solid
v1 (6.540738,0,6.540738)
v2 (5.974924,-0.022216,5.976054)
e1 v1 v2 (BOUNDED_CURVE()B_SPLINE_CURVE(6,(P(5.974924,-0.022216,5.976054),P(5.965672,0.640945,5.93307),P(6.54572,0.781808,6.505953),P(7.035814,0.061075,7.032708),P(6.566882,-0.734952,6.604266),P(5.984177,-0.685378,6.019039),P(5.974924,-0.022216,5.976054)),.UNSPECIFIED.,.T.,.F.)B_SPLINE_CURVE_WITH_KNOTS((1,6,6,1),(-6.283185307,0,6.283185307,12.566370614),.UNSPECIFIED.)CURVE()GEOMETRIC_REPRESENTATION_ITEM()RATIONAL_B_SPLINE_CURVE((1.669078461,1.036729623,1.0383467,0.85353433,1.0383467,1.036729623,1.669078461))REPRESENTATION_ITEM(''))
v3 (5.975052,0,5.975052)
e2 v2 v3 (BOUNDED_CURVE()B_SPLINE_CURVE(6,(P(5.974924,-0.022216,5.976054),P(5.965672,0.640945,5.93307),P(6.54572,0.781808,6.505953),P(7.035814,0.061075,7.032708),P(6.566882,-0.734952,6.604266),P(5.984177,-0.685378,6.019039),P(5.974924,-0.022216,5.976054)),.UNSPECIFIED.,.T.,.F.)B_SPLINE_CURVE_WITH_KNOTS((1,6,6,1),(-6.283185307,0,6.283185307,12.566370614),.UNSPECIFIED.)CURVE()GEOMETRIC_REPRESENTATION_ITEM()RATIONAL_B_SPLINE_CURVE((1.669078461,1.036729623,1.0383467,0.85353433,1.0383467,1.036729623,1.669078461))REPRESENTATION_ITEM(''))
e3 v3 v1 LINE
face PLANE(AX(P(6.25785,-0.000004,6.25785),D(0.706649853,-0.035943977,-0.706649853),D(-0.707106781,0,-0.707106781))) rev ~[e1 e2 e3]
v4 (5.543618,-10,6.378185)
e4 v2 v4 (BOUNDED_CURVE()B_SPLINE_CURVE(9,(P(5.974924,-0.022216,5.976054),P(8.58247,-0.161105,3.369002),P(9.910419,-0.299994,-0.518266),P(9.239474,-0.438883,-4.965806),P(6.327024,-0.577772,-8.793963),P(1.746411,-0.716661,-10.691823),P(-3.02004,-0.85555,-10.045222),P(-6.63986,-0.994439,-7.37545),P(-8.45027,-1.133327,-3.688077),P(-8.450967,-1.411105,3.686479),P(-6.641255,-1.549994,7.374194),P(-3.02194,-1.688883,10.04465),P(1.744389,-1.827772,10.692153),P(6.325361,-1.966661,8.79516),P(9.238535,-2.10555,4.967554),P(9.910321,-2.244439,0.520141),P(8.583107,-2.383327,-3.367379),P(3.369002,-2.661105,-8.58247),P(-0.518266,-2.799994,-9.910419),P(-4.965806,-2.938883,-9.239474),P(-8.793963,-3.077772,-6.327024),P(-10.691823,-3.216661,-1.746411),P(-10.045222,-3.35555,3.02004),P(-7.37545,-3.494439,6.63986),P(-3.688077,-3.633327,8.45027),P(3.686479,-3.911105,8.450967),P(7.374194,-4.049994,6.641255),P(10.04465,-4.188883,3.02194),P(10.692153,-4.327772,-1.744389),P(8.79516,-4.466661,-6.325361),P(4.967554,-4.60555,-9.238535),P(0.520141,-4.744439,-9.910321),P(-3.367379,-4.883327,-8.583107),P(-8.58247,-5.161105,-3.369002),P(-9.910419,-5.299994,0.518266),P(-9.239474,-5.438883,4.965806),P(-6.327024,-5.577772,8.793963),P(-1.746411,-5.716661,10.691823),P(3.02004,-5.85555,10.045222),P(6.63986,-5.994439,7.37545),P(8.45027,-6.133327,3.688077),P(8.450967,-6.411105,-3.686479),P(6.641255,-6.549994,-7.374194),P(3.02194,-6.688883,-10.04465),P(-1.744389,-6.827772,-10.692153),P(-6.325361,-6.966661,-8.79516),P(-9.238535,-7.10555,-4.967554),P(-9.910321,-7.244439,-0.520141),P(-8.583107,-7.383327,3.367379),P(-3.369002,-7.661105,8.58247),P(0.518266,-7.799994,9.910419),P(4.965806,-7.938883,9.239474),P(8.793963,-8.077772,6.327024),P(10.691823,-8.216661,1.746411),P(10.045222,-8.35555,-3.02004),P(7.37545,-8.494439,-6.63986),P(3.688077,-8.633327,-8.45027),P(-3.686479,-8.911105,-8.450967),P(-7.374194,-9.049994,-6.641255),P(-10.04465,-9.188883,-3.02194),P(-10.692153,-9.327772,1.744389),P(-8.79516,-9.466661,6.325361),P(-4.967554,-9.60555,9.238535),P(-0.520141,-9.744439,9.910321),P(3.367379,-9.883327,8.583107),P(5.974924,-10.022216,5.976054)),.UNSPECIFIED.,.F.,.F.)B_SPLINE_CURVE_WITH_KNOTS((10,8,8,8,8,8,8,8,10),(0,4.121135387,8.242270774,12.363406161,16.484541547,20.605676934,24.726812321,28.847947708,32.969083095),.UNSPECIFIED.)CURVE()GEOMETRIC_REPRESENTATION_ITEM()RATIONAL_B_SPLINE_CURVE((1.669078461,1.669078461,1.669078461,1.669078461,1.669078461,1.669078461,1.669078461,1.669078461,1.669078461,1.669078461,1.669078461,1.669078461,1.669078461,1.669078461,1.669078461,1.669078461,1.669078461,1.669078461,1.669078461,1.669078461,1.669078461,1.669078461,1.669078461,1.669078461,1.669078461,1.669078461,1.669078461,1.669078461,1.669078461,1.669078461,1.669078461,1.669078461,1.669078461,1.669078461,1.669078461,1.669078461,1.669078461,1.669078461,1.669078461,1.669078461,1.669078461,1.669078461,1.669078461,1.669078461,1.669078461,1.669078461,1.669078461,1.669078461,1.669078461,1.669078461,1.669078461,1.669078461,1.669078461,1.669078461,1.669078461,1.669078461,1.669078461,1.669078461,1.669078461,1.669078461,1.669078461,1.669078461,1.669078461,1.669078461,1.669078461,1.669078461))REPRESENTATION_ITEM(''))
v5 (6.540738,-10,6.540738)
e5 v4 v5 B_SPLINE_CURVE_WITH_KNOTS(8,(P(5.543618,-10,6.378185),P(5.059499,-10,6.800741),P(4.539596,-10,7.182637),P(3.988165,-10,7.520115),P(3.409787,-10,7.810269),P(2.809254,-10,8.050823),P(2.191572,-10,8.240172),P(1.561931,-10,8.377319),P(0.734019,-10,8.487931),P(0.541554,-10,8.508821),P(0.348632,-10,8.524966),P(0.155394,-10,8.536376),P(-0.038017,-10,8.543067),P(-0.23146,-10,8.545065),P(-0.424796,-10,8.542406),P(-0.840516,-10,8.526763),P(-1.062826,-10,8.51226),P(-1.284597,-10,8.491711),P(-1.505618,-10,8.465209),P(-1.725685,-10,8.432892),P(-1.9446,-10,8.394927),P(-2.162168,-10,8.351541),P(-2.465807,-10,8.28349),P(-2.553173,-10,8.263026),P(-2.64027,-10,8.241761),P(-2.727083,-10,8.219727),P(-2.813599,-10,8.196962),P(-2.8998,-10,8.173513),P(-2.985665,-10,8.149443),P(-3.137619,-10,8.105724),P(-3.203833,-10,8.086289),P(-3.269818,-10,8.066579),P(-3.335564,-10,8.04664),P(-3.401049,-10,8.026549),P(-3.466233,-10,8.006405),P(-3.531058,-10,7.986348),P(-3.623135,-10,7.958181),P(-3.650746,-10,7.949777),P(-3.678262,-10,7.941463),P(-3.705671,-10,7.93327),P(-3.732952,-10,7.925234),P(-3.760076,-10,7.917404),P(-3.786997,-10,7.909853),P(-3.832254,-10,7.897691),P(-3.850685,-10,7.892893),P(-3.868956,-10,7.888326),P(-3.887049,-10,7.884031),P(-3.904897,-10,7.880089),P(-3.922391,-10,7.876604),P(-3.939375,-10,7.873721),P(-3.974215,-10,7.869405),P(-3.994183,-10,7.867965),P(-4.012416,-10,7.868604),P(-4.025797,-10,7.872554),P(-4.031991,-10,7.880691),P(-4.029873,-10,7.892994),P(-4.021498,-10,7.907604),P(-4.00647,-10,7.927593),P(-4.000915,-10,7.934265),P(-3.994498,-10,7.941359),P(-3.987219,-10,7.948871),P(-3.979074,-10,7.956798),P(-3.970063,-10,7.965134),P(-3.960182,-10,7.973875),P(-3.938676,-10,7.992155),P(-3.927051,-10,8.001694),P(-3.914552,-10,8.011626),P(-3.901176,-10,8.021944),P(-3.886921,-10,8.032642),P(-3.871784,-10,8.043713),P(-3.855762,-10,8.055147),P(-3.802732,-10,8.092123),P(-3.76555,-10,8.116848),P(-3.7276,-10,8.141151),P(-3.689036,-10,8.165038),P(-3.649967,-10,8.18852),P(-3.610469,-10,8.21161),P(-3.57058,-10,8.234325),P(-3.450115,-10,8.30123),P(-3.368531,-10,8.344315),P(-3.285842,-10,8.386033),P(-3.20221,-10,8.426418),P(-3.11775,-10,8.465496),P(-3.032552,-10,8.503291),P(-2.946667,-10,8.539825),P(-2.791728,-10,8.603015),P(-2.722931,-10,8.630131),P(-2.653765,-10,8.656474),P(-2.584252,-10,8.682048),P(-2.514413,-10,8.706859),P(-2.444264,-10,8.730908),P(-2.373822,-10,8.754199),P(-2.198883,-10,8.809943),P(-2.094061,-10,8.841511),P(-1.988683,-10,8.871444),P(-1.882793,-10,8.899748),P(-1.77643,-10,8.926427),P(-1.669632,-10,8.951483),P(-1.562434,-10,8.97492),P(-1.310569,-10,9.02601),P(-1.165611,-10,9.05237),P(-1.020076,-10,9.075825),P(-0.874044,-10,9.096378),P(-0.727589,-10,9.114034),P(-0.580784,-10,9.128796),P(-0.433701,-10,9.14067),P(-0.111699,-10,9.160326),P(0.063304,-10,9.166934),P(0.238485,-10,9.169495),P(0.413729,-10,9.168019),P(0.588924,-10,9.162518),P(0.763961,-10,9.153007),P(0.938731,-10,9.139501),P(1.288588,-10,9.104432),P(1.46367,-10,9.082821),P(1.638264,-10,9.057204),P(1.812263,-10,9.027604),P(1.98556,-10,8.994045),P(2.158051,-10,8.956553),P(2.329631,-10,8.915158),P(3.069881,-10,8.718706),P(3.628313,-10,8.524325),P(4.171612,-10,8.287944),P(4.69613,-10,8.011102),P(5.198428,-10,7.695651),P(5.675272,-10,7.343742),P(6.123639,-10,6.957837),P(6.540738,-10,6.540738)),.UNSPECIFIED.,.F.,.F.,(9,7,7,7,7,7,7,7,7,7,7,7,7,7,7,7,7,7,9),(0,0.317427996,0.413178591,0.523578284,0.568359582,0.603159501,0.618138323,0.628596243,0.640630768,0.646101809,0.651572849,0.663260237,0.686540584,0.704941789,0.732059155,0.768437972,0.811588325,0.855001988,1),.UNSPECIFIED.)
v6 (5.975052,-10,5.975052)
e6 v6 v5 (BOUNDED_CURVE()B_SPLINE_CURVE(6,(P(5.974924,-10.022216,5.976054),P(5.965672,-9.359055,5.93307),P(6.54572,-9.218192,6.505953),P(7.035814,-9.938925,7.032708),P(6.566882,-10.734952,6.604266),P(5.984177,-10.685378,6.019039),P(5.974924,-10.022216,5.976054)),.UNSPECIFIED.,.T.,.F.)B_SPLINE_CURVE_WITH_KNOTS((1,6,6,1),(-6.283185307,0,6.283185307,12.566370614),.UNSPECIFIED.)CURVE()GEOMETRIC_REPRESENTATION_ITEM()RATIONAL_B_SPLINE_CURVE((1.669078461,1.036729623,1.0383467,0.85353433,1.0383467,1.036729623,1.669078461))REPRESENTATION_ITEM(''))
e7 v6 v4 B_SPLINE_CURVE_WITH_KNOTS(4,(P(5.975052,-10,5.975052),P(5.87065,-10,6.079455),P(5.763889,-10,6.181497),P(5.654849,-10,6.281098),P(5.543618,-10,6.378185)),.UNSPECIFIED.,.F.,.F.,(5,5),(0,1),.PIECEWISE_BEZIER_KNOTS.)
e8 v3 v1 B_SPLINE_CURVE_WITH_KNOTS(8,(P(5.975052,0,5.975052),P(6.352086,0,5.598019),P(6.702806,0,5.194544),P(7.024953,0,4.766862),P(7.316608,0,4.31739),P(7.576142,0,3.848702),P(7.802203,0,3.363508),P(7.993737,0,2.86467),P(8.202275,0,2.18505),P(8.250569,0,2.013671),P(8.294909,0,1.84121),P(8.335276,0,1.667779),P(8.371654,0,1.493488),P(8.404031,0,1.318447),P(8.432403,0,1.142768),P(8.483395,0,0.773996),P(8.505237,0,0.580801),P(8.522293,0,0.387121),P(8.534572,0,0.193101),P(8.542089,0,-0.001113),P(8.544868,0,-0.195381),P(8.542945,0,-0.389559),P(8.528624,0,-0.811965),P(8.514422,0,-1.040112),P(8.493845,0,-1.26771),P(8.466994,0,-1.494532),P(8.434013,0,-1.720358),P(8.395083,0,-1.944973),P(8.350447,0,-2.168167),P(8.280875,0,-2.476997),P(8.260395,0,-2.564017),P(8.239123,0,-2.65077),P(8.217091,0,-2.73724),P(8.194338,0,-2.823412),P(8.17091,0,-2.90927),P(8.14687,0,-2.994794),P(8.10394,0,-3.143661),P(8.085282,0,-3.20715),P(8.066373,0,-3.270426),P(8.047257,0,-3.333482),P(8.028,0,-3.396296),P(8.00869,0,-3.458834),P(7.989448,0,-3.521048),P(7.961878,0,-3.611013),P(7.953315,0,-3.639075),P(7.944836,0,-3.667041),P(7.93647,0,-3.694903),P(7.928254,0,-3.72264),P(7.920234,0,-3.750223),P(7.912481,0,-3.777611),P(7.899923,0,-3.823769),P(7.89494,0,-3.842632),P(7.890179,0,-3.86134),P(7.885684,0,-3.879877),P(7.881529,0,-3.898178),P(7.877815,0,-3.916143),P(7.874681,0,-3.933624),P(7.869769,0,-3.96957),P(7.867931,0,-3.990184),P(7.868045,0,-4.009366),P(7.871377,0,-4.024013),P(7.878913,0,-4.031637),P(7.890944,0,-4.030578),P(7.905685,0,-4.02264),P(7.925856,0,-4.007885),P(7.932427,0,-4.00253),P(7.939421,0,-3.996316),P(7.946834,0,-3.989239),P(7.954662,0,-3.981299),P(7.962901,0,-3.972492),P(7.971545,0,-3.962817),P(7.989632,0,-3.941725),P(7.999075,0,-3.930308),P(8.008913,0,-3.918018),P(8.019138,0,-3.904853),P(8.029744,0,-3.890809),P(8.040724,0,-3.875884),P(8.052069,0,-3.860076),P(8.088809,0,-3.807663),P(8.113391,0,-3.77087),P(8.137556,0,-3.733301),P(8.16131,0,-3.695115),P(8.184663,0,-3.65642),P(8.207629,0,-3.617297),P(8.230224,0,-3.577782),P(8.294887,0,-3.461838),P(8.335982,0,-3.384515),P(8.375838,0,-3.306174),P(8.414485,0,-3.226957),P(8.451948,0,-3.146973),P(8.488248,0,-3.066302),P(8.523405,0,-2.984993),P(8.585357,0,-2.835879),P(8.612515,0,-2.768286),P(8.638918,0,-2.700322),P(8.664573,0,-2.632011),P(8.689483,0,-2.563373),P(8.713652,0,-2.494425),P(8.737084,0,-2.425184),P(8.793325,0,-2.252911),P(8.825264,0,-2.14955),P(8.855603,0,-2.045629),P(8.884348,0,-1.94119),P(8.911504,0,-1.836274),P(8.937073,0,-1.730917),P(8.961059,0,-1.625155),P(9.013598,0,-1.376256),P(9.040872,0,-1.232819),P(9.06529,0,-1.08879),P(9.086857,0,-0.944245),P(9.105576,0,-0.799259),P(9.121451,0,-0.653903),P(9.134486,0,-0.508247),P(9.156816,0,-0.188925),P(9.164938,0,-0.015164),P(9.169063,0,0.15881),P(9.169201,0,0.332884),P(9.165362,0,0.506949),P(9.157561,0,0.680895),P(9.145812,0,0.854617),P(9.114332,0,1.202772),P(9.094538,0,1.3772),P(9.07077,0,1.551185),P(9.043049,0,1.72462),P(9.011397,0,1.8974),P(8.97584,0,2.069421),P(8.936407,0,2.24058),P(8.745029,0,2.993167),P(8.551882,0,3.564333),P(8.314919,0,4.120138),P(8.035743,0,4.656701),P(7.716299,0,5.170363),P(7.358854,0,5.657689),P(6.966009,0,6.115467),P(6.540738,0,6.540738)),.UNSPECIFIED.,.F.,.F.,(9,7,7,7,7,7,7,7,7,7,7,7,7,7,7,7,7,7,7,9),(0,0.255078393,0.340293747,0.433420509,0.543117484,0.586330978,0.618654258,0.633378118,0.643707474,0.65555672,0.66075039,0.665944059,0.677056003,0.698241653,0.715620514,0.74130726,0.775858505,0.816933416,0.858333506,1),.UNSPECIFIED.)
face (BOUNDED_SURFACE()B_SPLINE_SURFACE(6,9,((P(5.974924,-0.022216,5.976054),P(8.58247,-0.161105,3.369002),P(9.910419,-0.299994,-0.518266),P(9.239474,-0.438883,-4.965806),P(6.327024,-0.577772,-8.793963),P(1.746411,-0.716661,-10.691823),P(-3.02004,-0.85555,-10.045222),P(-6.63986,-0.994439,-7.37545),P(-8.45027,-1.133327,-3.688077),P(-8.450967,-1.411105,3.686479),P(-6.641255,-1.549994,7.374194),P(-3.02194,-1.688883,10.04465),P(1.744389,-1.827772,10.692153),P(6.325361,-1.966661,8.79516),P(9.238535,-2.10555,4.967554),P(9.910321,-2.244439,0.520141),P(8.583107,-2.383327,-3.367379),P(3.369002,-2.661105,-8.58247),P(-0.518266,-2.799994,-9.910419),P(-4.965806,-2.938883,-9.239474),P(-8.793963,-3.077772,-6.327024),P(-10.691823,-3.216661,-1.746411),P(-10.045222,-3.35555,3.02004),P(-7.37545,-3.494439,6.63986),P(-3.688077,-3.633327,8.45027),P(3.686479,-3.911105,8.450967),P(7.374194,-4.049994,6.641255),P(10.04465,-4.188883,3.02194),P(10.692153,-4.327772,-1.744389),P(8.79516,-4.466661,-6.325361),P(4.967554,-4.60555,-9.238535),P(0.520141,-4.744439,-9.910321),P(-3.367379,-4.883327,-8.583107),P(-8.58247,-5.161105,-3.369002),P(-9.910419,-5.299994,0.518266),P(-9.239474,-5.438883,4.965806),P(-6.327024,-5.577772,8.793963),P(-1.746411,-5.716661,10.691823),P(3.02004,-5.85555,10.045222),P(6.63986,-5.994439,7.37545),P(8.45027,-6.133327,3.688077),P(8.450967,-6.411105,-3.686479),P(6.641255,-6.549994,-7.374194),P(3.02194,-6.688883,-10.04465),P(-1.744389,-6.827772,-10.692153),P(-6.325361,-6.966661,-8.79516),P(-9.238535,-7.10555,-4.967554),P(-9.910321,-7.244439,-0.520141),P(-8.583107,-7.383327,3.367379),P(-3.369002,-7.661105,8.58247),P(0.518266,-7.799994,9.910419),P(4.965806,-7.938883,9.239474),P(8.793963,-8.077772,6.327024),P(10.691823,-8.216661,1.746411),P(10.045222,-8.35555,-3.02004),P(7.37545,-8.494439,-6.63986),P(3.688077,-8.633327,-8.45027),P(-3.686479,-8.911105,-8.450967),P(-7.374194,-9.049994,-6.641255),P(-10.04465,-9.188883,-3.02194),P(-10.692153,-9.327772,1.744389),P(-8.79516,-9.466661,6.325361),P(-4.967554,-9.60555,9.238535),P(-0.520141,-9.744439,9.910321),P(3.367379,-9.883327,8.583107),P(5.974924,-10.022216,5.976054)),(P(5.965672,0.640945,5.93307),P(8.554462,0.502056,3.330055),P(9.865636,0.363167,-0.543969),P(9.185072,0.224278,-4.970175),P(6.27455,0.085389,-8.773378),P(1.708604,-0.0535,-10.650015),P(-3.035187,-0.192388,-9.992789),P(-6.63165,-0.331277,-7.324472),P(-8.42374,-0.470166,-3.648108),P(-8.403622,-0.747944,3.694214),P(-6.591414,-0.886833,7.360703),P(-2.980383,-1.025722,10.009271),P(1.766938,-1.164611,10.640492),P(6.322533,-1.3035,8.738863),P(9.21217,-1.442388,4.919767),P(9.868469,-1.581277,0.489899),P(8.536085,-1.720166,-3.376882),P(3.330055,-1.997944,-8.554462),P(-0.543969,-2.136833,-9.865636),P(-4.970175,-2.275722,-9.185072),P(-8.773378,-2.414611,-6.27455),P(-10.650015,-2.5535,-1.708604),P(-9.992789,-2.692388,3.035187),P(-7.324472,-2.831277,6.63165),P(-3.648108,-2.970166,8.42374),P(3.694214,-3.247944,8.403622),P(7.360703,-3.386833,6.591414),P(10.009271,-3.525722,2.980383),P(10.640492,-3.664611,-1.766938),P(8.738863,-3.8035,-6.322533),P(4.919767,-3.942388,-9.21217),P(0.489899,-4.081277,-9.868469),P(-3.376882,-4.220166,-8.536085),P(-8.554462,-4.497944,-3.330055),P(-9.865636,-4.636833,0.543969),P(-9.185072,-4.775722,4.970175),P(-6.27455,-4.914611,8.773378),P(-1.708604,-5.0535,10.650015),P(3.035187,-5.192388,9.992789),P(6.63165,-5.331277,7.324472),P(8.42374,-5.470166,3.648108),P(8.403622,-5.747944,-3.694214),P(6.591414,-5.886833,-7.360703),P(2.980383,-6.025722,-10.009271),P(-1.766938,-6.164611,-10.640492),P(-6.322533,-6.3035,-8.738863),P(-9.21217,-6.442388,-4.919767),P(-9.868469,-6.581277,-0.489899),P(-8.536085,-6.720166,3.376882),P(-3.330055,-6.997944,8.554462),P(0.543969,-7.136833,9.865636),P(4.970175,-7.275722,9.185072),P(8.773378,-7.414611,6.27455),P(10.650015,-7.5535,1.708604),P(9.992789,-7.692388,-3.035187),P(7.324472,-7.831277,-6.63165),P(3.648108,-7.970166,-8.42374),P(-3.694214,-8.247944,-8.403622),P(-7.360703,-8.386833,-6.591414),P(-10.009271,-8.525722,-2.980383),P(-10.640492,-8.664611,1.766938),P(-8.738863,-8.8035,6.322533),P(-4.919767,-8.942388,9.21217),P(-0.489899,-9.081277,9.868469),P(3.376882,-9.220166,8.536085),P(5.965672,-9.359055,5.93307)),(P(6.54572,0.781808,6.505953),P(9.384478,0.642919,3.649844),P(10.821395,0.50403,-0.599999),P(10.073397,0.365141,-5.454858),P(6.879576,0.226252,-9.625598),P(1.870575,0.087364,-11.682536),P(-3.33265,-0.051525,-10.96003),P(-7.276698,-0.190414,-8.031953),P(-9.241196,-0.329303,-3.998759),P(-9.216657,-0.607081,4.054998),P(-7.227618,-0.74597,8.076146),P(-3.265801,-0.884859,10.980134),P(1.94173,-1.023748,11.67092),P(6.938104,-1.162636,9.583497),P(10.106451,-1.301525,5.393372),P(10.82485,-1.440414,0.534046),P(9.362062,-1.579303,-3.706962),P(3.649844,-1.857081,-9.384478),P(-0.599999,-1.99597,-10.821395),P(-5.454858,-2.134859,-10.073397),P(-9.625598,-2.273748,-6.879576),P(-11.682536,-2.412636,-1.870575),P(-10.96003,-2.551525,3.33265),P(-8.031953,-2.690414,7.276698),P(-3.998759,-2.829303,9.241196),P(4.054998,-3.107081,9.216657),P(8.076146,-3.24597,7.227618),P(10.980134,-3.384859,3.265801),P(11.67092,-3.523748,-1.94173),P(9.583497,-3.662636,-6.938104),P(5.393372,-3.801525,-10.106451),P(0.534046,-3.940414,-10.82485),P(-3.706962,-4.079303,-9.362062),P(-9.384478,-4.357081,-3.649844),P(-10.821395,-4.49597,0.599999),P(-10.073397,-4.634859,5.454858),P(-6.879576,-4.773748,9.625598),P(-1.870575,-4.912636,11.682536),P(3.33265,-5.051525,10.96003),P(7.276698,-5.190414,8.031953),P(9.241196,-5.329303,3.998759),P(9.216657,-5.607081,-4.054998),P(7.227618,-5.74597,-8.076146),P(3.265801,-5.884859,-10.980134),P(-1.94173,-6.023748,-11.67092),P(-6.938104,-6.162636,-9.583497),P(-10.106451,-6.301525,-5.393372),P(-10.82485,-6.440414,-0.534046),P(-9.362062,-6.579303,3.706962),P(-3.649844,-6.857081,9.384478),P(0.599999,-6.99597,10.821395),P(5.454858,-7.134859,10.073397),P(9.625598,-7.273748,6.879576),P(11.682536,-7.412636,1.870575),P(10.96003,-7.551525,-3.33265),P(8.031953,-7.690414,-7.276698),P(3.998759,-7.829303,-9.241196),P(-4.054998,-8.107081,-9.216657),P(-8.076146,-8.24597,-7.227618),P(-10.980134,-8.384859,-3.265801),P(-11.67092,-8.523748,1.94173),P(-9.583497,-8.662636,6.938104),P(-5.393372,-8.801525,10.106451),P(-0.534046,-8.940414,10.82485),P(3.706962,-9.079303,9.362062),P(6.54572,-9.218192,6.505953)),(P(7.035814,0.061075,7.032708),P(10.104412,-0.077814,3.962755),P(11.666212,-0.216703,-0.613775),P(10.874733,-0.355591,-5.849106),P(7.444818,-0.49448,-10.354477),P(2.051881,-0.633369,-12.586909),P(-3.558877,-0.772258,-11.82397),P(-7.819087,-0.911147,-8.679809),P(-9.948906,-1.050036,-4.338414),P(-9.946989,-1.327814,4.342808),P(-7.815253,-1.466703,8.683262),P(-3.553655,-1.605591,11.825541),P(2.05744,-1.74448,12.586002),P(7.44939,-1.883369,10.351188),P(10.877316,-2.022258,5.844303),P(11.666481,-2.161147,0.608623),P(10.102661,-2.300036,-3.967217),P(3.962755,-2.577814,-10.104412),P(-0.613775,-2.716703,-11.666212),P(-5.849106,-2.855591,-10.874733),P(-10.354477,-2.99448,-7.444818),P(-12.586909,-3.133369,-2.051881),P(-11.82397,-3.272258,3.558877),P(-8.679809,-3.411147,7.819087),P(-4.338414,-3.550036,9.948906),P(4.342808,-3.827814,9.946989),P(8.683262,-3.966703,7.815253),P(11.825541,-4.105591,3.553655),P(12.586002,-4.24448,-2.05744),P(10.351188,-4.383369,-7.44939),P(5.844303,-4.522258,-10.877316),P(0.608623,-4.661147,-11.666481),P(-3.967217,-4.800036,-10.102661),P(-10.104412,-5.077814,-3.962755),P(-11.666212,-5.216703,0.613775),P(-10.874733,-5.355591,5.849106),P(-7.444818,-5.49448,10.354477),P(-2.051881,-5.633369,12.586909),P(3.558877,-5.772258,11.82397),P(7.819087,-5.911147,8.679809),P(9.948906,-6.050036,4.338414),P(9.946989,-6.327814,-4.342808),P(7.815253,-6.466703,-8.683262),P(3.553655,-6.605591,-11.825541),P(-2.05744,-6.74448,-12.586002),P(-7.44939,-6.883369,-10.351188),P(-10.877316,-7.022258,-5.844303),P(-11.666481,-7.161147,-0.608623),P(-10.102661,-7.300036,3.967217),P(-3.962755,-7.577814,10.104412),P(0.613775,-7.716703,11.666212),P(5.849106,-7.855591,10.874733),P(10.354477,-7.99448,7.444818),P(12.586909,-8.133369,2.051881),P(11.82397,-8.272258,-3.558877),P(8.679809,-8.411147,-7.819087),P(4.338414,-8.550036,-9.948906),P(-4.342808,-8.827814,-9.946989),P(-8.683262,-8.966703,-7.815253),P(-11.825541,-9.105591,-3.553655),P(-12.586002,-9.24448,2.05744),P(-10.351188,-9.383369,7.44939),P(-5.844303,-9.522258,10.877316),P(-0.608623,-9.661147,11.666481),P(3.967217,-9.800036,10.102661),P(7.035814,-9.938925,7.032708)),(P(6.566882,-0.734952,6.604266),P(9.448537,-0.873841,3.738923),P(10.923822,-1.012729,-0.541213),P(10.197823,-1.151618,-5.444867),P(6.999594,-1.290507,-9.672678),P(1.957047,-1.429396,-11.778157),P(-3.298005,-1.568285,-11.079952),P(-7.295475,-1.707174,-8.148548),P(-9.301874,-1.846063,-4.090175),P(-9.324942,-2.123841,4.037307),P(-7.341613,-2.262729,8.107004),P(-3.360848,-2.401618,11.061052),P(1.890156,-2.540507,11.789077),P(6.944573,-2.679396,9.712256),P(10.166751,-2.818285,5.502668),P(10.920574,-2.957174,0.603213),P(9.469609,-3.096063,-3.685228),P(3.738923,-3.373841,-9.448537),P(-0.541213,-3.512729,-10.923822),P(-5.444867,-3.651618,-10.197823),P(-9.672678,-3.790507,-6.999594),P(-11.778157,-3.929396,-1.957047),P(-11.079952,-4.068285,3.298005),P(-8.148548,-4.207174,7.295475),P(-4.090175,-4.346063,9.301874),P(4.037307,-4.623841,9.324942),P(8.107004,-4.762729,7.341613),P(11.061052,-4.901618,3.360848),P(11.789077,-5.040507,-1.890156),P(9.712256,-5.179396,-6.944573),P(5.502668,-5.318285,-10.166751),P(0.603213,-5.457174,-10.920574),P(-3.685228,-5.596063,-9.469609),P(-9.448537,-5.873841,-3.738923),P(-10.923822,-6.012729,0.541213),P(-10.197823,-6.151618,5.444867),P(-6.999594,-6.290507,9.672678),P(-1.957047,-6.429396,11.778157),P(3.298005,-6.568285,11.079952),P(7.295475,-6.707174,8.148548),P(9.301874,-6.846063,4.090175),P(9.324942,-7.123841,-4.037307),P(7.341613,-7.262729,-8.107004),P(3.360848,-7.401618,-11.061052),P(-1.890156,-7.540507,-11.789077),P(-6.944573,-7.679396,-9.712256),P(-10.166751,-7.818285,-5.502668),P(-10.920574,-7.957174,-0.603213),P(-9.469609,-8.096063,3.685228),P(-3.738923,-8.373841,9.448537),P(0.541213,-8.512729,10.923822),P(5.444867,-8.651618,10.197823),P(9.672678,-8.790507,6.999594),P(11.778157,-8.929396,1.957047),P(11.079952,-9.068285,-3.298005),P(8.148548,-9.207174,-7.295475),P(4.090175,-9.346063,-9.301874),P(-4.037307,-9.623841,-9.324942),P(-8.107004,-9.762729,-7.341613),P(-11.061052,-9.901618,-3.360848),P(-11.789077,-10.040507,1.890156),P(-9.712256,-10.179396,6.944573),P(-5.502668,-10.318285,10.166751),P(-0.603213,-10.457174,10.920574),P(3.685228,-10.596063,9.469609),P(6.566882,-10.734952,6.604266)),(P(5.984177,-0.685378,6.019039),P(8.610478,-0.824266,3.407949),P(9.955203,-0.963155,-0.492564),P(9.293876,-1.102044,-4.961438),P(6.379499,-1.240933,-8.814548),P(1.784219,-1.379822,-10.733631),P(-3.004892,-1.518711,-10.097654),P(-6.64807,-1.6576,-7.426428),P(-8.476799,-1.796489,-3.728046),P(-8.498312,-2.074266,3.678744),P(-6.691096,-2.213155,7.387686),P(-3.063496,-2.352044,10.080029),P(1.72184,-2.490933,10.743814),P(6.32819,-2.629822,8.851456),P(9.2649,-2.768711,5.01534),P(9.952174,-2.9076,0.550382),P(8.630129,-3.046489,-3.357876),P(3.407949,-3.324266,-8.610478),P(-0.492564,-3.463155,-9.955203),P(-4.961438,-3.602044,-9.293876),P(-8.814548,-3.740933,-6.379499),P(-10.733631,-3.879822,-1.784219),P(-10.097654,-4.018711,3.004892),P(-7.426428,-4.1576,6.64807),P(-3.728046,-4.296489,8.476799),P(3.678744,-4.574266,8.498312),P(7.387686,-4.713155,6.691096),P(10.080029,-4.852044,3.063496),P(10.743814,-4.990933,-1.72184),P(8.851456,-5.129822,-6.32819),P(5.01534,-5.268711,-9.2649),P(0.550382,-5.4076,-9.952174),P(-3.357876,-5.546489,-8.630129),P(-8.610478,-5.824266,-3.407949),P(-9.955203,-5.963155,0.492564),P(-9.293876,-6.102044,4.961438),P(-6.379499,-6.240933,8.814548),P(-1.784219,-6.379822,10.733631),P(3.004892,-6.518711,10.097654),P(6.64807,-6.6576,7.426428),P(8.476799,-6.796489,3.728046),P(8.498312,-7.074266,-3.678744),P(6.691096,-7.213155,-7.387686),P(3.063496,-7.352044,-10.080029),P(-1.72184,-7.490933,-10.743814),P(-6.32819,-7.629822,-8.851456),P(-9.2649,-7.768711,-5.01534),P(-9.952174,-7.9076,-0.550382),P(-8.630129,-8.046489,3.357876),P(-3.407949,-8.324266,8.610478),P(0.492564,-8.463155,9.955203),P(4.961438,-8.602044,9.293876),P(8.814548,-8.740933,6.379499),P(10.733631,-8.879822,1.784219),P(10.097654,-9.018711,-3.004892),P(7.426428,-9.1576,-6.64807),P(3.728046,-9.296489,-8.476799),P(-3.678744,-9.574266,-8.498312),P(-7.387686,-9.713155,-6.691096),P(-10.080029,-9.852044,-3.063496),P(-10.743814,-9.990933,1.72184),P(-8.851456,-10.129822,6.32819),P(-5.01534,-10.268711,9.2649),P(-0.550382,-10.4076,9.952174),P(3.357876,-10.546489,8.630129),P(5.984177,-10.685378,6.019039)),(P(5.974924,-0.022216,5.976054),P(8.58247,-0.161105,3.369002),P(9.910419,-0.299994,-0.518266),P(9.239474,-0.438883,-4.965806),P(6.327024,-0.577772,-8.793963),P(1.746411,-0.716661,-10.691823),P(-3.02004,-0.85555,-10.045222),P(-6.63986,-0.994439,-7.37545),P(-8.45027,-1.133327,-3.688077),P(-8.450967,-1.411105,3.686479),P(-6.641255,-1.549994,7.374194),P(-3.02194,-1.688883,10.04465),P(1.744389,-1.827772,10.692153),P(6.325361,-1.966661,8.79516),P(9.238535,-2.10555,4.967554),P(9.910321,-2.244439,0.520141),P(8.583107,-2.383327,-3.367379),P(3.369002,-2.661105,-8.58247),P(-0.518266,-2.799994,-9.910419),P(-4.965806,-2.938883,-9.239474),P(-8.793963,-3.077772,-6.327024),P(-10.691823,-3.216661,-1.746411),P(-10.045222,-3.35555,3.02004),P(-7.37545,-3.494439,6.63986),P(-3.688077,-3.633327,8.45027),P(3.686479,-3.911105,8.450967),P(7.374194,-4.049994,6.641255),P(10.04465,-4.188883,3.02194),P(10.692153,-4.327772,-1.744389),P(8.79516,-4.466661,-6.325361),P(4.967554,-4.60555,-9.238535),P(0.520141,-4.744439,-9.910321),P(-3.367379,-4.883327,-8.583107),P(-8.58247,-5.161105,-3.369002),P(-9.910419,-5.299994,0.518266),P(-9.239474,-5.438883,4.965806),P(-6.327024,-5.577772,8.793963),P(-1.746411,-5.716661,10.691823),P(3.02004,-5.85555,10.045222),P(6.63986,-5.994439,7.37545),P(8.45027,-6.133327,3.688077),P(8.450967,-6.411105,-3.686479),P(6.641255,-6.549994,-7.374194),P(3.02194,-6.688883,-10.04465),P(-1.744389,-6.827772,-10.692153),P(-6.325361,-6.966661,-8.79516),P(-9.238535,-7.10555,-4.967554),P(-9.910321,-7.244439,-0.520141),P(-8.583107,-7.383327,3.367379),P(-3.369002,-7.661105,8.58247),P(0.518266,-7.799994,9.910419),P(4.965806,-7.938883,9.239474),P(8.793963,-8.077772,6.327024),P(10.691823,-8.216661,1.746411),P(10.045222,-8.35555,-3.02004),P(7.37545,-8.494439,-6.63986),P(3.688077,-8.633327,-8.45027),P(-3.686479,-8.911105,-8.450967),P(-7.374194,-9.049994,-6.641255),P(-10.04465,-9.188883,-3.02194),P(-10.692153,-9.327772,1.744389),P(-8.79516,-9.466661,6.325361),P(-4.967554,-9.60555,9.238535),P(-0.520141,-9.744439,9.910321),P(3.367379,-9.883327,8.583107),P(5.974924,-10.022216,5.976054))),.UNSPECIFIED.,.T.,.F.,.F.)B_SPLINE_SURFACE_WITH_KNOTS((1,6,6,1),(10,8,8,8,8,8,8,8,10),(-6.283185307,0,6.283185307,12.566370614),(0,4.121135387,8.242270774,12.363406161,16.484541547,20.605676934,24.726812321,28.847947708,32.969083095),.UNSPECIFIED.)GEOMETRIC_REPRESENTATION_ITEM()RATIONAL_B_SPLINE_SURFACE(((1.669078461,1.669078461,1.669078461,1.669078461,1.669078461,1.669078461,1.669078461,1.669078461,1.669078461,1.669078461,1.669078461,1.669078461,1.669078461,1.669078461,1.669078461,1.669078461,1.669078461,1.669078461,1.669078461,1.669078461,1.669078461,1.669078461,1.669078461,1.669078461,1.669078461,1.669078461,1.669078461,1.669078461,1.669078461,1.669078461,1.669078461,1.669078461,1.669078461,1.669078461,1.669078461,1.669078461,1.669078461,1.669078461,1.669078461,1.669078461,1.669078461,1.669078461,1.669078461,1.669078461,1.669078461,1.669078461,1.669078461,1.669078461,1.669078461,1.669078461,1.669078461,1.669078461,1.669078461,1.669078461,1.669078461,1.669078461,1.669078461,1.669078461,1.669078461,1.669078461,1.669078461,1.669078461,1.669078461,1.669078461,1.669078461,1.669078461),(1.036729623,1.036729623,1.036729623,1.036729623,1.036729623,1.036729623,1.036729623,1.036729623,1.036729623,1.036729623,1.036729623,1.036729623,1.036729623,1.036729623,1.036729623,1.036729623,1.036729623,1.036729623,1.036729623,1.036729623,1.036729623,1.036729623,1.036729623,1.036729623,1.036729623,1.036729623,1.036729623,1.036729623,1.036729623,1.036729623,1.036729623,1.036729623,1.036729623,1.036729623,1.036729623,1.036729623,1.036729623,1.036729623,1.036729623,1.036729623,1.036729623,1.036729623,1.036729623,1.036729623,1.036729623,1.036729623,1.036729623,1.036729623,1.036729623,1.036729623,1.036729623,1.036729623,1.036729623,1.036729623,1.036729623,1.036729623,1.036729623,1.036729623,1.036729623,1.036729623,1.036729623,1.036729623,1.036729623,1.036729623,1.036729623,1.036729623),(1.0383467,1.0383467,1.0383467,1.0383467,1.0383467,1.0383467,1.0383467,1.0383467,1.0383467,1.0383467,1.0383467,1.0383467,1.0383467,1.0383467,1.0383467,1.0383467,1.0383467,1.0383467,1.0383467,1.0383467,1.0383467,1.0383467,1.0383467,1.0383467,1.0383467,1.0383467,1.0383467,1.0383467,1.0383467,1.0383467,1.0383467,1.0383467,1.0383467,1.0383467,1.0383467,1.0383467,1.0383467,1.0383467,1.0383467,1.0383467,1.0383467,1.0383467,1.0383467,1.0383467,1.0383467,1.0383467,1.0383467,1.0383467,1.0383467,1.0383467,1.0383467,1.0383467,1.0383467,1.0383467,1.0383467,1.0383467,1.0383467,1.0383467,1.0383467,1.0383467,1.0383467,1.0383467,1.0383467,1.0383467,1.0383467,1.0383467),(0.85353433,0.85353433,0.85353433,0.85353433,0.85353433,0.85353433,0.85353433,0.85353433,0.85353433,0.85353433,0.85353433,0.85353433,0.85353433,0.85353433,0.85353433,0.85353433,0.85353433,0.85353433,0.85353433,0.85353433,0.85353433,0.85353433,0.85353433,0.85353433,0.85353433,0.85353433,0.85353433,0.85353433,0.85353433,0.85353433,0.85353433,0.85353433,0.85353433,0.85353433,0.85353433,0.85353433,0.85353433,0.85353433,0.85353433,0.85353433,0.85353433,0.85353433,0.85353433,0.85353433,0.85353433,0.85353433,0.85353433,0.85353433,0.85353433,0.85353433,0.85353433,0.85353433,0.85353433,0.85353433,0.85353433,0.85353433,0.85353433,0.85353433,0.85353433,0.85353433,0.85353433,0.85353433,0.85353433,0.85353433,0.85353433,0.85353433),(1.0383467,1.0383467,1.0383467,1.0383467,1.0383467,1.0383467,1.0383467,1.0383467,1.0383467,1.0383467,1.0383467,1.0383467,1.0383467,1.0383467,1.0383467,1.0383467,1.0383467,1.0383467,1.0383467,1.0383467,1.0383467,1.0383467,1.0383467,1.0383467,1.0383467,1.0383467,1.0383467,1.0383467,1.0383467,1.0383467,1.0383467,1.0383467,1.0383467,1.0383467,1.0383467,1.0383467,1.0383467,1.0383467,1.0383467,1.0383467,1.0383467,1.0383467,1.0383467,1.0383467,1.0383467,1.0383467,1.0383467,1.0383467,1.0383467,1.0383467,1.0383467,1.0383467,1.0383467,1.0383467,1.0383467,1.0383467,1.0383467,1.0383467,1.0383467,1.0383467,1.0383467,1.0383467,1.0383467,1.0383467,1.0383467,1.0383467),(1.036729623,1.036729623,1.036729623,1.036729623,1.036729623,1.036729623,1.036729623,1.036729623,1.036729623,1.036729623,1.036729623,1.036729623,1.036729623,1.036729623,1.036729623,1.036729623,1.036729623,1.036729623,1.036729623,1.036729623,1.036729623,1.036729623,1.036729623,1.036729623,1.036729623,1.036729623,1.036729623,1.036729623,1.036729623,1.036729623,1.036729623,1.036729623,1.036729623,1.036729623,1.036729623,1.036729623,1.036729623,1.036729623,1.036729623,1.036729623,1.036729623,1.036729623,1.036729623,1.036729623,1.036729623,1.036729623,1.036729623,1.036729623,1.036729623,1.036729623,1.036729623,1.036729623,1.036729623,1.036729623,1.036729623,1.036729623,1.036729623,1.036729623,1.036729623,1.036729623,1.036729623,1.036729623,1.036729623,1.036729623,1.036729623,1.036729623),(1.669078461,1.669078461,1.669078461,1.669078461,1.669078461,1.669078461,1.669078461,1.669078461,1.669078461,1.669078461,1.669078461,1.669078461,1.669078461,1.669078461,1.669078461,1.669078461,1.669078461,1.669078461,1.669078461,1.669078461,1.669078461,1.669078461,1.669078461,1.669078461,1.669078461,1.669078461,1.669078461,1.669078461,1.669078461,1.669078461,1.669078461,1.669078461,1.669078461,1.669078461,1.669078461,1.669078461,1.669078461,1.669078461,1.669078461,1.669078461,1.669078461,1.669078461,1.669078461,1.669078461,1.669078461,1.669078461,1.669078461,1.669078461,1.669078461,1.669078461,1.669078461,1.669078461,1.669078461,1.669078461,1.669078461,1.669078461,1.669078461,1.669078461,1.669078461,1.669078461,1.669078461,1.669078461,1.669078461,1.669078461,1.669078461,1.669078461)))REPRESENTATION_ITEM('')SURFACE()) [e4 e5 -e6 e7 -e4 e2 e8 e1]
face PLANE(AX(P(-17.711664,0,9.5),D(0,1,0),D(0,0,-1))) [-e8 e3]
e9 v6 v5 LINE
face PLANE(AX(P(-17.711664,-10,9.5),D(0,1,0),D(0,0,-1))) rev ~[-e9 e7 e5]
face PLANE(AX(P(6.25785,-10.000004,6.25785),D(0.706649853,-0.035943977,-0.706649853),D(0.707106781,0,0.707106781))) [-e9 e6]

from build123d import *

# Parameters (mm, degrees)
SWEEP1_PITCH            = 2
SWEEP1_HEIGHT           = 10
SWEEP1_RADIUS           = 8.85
SWEEP1_START_ANGLE      = 135
SKETCH2_R               = 0.4
CUT_EXTRUDE1_DEPTH      = 17.711663711
CUT_EXTRUDE1_DEPTH_BACK = 17.711663711
SKETCH3_OUTSIDE_W       = 26.16
SKETCH3_OUTSIDE_H       = 18.46
SKETCH3_OUTSIDE_W_2     = 19
SKETCH3_OUTSIDE_H_2     = 10


with BuildPart() as part:
    # Sweep1: sweep along a helix
    with BuildLine() as sweep1_path:
        add(Helix(SWEEP1_PITCH, SWEEP1_HEIGHT, SWEEP1_RADIUS, center=(0, 0, 0), direction=(0, -1, 0), lefthand=True, mode=Mode.PRIVATE).rotate(Axis((0, 0, 0), (0, -1, 0)), SWEEP1_START_ANGLE))
    # Sketch2 → Sweep1 (sweep)
    with BuildSketch(Plane(origin=(6.257895014, 0, 6.257895014), x_dir=(-0.7074264414774916, -0.05554081246338724, -0.7046013398010256), z_dir=(0.7066498533636917, -0.03594397699397501, -0.7066498533636938))):
        Circle(SKETCH2_R)
    sweep(path=sweep1_path.line, is_frenet=True)

    # Sketch3 outside → Cut-Extrude1 (cut, two sides: drawn at the far end of the back side and taken through both)
    with BuildSketch(Plane(origin=(0, 0, 0), x_dir=(0, 0, -1), z_dir=(1, 0, 0)).offset(-CUT_EXTRUDE1_DEPTH_BACK)):
        with Locations((0, -5)):
            Rectangle(SKETCH3_OUTSIDE_W, SKETCH3_OUTSIDE_H)
        with Locations((0, -5)):
            Rectangle(SKETCH3_OUTSIDE_W_2, SKETCH3_OUTSIDE_H_2, mode=Mode.SUBTRACT)
    extrude(amount=CUT_EXTRUDE1_DEPTH + CUT_EXTRUDE1_DEPTH_BACK, mode=Mode.SUBTRACT)


solid = part.part
